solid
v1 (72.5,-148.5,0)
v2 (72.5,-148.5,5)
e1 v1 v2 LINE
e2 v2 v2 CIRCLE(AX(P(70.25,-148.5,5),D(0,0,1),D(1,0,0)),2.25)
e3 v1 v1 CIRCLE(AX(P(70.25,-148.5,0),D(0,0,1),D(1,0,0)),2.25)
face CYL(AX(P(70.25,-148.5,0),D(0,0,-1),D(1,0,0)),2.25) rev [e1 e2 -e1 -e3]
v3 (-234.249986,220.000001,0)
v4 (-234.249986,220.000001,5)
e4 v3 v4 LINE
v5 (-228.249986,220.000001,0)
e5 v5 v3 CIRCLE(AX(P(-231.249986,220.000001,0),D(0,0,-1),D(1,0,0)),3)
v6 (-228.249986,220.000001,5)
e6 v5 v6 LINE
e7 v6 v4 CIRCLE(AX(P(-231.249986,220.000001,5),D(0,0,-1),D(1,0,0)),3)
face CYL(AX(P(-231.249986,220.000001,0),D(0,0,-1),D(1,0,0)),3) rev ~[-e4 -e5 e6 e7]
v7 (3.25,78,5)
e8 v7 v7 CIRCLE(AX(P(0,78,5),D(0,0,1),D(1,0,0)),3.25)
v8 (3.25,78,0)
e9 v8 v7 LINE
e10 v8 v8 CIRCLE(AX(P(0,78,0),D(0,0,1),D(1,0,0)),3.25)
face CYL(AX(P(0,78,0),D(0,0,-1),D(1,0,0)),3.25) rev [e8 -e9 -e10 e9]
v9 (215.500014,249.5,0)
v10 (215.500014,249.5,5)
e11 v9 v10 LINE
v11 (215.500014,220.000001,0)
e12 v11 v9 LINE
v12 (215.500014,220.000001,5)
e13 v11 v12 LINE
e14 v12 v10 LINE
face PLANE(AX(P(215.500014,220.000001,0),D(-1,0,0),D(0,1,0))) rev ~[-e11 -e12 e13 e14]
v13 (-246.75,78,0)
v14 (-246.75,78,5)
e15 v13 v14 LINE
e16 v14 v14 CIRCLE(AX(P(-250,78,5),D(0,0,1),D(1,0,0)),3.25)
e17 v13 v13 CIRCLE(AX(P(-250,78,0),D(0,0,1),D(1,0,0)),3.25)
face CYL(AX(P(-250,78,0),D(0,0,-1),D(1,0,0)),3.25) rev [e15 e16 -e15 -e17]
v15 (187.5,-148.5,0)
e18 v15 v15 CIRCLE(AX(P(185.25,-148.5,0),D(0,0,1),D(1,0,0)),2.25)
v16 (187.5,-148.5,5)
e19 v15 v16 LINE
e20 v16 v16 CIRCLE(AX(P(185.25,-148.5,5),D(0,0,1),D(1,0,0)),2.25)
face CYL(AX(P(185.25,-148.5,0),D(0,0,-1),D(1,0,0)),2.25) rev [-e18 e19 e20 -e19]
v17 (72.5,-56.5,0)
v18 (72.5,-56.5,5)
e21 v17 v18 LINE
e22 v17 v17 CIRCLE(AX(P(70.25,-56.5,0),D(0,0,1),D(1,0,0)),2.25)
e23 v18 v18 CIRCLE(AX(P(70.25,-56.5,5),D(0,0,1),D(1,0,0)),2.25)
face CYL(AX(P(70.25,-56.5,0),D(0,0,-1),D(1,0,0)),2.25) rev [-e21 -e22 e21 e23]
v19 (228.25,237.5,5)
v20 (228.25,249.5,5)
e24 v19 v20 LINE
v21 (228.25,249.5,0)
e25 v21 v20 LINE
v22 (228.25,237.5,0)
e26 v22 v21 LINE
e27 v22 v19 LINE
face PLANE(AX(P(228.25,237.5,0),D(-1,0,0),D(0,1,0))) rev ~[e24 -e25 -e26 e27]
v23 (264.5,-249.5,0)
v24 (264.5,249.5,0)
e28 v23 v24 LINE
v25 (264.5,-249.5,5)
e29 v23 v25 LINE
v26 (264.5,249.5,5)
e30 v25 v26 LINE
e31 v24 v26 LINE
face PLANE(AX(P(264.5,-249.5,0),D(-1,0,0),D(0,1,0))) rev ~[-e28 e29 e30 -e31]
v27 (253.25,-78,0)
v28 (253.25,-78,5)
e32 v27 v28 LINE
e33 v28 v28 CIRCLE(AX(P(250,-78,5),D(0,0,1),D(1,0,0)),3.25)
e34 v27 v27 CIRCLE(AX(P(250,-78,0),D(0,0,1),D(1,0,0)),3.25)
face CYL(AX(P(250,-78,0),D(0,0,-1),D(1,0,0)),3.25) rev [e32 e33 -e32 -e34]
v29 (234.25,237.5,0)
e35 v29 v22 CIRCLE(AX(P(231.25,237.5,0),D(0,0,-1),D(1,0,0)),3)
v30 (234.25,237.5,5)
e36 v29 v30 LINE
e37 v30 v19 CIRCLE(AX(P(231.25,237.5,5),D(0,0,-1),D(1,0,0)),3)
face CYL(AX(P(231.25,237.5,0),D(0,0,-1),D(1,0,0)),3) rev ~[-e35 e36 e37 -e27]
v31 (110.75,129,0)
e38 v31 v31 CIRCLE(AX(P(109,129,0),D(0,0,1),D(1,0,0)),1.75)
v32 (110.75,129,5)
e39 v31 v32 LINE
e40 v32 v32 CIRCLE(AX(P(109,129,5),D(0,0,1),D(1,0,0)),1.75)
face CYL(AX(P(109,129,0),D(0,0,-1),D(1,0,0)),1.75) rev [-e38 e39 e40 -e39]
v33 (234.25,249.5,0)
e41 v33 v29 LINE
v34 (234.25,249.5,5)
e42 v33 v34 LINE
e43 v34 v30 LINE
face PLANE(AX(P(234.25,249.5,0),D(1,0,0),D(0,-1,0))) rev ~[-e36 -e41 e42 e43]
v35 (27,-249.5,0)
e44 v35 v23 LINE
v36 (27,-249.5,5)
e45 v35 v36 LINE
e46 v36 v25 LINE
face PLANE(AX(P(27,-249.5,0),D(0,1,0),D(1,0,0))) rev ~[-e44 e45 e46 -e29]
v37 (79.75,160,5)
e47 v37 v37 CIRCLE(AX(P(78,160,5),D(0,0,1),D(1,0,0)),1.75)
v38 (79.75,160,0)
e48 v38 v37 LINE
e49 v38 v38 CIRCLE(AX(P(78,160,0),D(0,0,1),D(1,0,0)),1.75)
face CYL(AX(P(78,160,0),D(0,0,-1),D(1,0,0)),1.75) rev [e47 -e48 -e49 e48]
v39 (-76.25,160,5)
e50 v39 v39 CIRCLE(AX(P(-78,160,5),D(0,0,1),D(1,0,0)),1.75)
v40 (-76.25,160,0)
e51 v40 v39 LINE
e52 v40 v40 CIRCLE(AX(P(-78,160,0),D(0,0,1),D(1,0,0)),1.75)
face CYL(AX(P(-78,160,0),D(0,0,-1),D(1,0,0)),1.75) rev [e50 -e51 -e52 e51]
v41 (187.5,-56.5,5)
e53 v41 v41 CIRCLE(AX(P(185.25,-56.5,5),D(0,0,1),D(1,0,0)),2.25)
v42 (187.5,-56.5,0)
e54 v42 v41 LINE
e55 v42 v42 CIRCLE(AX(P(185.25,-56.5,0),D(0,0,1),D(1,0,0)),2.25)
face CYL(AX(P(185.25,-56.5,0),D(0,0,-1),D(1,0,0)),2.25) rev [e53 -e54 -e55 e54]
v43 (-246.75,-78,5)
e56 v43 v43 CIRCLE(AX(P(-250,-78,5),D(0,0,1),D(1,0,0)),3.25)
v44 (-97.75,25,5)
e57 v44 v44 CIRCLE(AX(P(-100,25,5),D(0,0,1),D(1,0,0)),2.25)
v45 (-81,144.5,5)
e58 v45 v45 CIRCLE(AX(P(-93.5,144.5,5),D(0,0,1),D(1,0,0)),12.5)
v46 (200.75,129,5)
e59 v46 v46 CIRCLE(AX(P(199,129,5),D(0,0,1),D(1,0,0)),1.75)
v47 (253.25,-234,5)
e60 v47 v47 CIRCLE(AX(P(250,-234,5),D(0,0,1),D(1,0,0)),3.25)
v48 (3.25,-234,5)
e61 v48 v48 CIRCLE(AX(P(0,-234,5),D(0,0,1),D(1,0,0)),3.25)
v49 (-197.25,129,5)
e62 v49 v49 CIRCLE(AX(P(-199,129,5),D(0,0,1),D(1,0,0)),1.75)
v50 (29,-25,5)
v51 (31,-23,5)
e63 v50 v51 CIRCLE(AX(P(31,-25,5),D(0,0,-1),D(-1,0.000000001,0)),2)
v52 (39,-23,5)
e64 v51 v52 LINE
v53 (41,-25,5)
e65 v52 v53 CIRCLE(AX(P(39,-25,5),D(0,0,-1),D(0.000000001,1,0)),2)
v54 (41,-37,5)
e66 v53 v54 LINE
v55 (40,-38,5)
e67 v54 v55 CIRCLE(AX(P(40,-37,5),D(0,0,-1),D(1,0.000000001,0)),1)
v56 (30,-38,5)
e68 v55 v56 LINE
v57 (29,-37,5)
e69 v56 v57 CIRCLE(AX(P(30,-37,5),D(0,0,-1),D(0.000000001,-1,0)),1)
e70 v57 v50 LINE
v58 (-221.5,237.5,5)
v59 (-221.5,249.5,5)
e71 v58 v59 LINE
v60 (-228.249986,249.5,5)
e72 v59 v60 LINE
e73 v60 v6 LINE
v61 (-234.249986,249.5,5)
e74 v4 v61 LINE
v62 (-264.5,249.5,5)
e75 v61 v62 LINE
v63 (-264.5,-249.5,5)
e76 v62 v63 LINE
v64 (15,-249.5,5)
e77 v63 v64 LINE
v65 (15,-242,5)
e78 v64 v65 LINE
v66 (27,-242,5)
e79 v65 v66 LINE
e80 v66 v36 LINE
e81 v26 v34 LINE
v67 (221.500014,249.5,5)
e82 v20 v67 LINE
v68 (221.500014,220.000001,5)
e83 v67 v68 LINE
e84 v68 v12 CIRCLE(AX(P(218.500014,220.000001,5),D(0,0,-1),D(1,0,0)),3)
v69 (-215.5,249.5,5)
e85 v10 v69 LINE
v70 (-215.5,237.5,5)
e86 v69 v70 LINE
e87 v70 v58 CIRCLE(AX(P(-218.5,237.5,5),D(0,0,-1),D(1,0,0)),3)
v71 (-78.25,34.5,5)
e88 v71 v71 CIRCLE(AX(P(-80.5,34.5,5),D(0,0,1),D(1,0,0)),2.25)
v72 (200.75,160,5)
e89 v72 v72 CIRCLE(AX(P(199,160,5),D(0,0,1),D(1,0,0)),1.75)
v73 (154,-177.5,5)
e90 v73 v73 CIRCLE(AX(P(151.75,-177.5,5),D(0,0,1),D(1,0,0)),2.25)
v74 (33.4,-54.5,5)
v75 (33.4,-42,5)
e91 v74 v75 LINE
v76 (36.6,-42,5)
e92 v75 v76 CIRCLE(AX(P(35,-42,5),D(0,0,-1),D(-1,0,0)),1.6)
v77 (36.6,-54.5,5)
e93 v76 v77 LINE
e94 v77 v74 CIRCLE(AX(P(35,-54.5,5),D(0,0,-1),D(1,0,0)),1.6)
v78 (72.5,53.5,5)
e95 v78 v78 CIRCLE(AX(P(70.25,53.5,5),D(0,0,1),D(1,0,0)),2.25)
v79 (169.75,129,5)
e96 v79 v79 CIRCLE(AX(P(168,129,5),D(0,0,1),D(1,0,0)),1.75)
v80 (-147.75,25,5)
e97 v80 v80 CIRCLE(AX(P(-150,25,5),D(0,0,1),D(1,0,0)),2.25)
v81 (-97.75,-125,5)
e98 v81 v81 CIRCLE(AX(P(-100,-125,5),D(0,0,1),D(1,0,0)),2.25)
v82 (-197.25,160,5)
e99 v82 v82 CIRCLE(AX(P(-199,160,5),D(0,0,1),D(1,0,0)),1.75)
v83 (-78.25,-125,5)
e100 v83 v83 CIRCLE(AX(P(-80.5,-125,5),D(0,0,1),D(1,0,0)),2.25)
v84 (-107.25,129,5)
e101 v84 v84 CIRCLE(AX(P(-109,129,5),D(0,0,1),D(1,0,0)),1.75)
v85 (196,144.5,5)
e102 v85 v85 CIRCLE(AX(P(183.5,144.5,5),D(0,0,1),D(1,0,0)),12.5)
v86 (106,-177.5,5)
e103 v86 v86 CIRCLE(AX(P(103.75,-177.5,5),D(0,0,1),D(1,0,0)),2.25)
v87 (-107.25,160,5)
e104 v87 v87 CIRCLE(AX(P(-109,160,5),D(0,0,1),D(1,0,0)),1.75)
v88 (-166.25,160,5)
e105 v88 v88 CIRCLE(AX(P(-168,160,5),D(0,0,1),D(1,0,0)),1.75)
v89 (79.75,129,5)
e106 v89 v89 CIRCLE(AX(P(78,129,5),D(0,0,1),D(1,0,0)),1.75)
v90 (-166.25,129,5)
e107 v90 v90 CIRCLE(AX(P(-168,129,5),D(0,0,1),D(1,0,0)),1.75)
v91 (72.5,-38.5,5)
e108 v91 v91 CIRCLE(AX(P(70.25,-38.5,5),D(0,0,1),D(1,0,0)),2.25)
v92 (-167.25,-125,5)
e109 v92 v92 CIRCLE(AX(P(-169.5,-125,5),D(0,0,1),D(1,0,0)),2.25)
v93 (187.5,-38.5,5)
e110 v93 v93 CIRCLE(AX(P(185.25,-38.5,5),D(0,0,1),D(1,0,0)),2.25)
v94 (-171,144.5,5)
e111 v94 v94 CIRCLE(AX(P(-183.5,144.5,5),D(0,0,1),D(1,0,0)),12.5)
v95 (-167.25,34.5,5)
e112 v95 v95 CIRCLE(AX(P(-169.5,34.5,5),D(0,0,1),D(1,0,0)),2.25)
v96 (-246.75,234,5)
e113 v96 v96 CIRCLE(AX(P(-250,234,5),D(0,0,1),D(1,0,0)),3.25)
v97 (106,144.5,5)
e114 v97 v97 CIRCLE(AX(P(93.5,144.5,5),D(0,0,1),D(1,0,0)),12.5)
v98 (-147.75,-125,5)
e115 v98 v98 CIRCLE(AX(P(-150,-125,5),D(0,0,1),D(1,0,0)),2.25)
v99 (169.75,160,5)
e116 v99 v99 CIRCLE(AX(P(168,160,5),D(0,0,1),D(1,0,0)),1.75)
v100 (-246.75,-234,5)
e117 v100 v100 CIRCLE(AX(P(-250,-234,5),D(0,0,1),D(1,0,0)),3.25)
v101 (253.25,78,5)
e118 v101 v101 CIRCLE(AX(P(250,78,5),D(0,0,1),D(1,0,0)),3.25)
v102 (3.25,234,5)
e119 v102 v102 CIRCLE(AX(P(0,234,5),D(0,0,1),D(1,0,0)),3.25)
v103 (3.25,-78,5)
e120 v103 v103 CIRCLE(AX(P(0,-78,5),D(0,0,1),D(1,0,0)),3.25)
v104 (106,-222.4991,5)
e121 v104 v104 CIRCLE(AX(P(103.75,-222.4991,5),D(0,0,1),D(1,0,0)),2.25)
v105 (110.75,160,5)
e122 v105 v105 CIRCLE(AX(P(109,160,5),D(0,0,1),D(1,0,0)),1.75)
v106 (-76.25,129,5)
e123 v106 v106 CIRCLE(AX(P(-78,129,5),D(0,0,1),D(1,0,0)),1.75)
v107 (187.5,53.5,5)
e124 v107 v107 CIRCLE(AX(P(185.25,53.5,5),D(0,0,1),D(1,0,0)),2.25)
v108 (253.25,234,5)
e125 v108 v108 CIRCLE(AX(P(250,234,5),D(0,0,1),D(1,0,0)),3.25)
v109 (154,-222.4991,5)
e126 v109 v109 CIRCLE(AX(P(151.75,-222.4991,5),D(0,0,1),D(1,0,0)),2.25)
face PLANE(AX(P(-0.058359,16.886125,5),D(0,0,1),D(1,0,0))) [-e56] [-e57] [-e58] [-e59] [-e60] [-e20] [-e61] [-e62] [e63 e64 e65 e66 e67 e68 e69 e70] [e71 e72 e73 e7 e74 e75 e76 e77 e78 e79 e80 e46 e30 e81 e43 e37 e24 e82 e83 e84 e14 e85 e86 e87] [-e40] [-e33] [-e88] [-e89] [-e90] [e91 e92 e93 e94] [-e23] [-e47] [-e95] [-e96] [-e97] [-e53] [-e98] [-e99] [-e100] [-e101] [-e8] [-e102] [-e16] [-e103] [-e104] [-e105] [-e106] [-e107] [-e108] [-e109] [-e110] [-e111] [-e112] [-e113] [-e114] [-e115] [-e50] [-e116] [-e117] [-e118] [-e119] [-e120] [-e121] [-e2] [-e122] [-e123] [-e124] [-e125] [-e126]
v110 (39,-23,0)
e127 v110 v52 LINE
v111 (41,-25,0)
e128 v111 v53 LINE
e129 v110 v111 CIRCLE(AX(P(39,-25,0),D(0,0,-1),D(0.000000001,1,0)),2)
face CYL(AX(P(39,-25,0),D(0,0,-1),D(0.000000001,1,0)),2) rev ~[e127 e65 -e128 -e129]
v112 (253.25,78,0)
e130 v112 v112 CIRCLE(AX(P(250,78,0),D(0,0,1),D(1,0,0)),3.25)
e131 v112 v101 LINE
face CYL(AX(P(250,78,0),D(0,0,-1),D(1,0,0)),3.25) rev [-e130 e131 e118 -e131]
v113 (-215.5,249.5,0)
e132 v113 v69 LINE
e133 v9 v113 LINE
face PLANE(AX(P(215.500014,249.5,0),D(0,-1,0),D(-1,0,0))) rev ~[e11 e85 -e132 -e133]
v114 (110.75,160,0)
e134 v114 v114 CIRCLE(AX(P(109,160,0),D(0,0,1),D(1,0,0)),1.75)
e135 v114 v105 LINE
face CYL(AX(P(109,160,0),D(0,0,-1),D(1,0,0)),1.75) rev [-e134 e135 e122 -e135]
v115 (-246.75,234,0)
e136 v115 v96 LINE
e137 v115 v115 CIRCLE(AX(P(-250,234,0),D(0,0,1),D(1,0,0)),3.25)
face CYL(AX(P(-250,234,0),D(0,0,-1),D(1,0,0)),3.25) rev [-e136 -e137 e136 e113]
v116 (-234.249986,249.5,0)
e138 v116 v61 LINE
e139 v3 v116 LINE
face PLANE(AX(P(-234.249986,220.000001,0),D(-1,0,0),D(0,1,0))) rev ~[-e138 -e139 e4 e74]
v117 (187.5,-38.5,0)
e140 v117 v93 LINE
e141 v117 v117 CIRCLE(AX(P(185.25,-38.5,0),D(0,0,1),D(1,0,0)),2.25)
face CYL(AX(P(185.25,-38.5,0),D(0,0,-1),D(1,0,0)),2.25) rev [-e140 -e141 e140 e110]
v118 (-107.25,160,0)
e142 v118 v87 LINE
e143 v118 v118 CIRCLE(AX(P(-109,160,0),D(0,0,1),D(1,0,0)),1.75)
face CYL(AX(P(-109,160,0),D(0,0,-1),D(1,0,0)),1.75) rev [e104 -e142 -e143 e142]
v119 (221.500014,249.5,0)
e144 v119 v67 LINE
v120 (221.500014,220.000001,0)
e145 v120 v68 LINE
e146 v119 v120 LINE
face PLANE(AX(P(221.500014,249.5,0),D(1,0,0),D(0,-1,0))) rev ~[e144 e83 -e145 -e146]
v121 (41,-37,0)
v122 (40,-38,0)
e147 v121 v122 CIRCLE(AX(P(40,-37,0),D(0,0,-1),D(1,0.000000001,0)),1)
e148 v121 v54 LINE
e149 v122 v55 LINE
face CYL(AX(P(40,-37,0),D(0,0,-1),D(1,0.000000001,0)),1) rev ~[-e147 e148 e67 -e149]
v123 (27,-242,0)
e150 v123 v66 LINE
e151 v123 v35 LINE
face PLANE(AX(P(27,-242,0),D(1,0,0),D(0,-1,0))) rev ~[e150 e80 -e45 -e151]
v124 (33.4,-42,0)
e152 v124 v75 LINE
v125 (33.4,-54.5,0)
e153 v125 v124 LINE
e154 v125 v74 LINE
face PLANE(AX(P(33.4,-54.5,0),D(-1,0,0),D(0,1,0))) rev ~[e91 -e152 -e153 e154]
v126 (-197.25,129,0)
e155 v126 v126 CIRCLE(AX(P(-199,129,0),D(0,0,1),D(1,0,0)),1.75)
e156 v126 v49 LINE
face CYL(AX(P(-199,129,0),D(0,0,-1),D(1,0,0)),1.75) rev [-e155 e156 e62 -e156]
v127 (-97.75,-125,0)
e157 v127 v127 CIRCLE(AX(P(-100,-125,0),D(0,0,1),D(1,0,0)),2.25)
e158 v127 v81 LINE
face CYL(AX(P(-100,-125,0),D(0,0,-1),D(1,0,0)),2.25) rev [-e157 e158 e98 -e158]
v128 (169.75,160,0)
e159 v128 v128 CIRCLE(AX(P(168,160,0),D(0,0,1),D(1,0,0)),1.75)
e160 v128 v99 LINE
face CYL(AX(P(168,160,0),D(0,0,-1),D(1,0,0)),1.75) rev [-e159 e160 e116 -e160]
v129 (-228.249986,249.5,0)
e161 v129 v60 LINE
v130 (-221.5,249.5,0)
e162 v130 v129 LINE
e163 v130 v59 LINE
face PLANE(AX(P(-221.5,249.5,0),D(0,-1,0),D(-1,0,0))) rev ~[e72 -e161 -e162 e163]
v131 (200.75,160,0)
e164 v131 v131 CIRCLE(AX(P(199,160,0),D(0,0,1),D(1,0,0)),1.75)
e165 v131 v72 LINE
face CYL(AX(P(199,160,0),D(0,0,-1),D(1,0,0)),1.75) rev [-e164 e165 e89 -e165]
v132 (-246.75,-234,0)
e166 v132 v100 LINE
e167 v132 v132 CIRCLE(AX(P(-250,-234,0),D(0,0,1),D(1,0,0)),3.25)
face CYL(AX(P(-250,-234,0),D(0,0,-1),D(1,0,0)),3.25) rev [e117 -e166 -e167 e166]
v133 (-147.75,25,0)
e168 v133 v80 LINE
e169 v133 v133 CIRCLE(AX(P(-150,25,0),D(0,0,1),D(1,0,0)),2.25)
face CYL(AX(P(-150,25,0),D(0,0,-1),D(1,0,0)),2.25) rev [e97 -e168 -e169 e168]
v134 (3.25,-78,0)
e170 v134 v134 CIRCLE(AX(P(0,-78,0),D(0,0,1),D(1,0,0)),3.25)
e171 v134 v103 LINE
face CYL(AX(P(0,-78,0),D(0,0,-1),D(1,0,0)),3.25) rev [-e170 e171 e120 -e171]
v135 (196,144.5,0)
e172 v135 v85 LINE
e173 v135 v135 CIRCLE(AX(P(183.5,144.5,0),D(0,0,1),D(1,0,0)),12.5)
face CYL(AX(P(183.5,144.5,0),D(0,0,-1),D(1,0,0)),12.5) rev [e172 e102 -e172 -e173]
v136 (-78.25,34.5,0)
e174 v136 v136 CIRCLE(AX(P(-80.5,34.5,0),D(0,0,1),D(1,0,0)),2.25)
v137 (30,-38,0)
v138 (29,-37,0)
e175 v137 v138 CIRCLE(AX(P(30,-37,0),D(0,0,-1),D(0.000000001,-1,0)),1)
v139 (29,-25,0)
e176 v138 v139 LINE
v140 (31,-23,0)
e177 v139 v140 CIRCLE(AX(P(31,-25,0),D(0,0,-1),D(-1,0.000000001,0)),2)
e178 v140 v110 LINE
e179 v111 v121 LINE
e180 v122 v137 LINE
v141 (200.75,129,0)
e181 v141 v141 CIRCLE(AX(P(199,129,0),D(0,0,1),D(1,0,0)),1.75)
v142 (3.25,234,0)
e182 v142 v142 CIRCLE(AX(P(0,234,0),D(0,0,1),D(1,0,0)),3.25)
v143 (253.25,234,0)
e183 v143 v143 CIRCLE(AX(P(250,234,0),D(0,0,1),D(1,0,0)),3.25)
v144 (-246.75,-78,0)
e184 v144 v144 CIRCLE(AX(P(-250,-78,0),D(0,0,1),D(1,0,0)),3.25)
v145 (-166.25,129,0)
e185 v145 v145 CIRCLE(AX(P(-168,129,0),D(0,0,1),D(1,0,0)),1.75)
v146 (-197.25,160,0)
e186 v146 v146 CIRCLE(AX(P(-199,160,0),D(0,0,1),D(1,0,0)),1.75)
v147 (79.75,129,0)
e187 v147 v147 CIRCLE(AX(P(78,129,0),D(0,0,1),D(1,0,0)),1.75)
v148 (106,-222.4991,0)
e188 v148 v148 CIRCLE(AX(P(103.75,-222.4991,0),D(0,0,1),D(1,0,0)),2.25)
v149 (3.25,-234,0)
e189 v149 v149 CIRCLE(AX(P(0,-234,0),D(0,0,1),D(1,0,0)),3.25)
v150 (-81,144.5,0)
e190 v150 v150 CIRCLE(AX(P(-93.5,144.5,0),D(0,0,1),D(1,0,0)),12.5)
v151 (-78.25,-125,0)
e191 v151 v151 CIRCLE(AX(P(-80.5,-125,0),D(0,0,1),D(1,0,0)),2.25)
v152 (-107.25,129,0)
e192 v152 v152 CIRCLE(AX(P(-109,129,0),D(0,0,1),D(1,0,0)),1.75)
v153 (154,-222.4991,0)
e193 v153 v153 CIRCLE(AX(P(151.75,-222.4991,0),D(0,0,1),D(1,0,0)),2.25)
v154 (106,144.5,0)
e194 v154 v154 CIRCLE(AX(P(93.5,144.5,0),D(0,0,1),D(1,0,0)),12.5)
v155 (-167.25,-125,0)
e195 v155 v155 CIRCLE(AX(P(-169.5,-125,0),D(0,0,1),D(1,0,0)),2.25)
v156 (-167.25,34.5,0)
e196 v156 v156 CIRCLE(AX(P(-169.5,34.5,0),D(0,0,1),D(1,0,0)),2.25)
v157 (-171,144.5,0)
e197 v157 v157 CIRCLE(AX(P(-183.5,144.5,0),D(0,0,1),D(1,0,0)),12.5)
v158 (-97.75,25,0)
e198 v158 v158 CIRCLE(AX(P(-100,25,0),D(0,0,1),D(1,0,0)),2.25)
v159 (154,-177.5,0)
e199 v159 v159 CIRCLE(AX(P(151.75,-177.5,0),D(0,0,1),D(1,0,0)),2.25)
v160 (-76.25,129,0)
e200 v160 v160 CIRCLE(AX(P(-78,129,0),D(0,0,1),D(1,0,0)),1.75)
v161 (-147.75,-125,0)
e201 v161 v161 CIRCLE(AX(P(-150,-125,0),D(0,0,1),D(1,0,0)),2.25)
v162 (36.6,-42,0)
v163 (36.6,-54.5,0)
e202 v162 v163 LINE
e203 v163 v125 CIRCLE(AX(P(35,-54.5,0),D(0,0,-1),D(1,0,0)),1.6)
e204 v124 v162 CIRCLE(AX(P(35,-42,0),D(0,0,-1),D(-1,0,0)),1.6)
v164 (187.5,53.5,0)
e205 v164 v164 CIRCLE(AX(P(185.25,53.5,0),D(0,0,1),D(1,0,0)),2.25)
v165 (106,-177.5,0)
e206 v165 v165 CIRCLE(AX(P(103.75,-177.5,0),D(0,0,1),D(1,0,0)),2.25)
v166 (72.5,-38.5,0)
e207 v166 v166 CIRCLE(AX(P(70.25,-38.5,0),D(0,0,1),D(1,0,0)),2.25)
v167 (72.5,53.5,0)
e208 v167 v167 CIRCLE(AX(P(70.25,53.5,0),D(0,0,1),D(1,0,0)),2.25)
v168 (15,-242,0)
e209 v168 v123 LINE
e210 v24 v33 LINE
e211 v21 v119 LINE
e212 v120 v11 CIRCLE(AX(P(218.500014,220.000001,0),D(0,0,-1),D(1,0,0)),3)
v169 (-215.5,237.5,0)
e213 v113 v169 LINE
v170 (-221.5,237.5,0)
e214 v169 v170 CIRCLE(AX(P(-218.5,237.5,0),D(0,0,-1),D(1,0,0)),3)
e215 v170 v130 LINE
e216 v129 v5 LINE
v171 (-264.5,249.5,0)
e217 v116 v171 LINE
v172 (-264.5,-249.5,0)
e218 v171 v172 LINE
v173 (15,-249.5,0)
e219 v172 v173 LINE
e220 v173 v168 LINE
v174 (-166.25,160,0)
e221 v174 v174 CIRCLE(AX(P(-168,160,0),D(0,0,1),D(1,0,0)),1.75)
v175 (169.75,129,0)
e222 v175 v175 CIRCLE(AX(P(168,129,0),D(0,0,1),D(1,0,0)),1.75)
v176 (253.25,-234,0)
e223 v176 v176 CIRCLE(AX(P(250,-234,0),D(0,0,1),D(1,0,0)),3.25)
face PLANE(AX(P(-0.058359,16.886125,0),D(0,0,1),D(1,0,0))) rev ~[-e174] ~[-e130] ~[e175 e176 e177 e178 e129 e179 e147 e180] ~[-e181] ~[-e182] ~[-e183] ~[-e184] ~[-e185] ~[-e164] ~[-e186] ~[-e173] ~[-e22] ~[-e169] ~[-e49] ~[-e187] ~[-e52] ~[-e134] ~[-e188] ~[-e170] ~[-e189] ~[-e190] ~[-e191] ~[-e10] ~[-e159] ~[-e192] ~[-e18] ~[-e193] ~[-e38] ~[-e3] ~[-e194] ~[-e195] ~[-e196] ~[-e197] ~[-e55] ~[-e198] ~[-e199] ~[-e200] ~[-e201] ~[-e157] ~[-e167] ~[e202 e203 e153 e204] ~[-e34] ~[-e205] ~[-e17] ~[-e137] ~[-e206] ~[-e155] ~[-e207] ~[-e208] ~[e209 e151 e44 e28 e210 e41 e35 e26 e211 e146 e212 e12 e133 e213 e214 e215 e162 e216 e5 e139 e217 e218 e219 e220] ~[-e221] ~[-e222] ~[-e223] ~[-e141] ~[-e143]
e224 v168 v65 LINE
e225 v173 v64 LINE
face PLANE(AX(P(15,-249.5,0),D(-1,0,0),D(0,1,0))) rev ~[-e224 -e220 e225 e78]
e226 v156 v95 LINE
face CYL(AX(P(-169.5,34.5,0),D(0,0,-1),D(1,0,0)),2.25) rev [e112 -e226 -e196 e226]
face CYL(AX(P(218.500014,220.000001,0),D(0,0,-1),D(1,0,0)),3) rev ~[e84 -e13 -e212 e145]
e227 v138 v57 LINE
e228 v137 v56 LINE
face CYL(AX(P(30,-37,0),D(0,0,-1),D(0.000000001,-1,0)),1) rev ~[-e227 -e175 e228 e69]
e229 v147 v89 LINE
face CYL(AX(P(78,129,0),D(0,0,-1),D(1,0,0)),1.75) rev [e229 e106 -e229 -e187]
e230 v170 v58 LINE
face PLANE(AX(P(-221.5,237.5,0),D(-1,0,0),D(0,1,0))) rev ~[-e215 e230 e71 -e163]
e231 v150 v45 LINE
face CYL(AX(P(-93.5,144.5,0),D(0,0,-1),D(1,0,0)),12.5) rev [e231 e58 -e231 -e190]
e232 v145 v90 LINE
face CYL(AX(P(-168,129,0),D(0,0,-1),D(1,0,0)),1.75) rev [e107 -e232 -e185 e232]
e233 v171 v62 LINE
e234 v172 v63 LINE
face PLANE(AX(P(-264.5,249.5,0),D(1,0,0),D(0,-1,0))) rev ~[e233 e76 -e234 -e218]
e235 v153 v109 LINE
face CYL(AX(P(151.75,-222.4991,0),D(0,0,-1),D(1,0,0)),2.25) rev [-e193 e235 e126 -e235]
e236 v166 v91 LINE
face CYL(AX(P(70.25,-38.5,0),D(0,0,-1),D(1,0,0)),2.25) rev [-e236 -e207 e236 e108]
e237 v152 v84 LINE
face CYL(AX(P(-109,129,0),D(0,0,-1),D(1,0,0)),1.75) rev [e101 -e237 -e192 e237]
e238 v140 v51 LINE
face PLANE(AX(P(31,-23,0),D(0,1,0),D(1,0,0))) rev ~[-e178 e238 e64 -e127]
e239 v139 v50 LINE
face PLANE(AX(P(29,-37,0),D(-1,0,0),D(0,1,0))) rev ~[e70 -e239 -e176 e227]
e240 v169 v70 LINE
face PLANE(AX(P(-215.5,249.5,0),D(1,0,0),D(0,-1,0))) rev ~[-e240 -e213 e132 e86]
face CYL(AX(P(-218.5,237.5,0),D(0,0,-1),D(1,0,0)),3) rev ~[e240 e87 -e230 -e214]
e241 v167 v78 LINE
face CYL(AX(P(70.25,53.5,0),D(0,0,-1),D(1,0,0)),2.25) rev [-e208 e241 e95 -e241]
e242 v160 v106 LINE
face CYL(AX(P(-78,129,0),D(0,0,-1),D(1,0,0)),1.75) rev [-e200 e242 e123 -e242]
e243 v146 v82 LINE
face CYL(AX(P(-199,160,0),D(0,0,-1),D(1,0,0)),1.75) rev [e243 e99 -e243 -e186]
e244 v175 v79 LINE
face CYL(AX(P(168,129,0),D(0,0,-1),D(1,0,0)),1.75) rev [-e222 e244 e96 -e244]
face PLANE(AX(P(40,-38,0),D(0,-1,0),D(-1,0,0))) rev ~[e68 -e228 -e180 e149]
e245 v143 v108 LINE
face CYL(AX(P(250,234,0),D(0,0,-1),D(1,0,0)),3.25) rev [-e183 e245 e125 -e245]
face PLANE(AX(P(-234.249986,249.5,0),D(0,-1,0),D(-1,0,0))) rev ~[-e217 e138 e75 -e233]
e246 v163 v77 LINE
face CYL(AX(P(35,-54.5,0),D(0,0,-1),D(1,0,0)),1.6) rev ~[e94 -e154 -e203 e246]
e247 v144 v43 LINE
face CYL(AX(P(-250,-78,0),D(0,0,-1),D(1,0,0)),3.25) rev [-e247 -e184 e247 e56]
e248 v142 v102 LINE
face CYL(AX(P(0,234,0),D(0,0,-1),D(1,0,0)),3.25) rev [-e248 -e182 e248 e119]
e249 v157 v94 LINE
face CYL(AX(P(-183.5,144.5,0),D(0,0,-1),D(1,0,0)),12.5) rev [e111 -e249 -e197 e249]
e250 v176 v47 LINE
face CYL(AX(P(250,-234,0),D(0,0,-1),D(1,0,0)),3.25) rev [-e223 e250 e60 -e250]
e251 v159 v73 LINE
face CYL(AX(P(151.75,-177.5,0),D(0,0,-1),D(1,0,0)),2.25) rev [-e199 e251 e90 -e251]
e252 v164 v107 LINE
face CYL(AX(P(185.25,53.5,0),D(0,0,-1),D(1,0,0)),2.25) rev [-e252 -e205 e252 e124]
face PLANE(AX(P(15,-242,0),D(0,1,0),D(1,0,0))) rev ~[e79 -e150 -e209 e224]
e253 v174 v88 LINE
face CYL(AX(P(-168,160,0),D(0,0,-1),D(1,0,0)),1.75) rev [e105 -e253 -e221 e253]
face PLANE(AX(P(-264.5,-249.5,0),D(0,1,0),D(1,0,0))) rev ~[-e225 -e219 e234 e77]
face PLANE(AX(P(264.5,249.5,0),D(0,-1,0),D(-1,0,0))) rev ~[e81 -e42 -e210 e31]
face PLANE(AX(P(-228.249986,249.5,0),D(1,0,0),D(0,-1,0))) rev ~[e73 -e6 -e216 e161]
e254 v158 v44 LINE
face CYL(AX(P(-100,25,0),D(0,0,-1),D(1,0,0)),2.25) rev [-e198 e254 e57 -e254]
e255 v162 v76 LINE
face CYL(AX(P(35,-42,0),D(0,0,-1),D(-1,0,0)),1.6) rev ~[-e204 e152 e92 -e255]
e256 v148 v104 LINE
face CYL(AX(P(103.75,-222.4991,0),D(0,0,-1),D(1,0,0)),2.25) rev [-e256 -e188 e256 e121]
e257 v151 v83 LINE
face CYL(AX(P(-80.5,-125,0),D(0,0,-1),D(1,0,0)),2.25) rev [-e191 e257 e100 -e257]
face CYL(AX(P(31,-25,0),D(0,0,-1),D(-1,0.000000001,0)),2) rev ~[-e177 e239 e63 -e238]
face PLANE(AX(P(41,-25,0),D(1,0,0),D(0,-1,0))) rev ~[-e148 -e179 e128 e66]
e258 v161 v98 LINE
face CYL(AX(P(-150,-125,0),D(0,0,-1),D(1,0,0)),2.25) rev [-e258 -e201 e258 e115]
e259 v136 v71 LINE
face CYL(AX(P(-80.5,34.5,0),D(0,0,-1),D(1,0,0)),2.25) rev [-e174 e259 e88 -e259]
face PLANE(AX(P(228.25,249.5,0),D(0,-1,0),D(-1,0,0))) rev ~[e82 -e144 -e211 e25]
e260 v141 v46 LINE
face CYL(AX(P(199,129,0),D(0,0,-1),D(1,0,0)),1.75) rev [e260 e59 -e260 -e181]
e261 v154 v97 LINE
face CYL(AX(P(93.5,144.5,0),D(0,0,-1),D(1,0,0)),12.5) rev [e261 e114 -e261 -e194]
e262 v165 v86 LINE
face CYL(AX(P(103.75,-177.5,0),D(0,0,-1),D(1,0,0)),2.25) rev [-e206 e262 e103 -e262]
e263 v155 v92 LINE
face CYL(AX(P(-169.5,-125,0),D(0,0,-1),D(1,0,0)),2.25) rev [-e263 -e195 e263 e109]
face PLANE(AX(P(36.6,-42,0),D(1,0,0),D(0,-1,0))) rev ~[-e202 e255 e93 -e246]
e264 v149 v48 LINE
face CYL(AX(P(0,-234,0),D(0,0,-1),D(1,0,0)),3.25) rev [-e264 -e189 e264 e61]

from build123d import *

# Parameters (mm, degrees)
MODEL_R             = 3.25
MODEL_R_2           = 2.25
MODEL_R_3           = 1.75
MODEL_R_4           = 12.5
BOSS_EXTRUDE1_DEPTH = 5


with BuildPart() as part:
    # Model → Boss-Extrude1 (new body)
    with BuildSketch(Plane.XY):
        with BuildLine():
            Line((-234.249986481, 220.000001375), (-234.249986481, 249.5))
            Line((-234.249986481, 249.5), (-264.5, 249.5))
            Line((-264.5, 249.5), (-264.5, -249.499999996))
            Line((-264.5, -249.499999996), (15, -249.499999996))
            Line((15, -249.499999996), (15, -241.999999996))
            Line((15, -241.999999996), (27, -241.999999996))
            Line((27, -241.999999996), (27, -249.499999996))
            Line((27, -249.499999996), (264.5, -249.499999996))
            Line((264.5, -249.499999996), (264.5, 249.5))
            Line((264.5, 249.5), (234.25, 249.5))
            Line((234.25, 249.5), (234.25, 237.5))
            ThreePointArc((234.25, 237.5), (231.25, 234.5), (228.25, 237.5))
            Line((228.25, 237.5), (228.25, 249.5))
            Line((228.25, 249.5), (221.500013519, 249.5))
            Line((221.500013519, 249.5), (221.500013519, 220.000001375))
            ThreePointArc((221.500013519, 220.000001375), (218.500013519, 217.000001375), (215.500013519, 220.000001375))
            Line((215.500013519, 220.000001375), (215.500013519, 249.5))
            Line((215.500013519, 249.5), (-215.5, 249.5))
            Line((-215.5, 249.5), (-215.5, 237.5))
            ThreePointArc((-215.5, 237.5), (-218.5, 234.5), (-221.5, 237.5))
            Line((-221.5, 237.5), (-221.5, 249.5))
            Line((-221.5, 249.5), (-228.249986481, 249.5))
            Line((-228.249986481, 249.5), (-228.249986481, 220.000001375))
            ThreePointArc((-228.249986481, 220.000001375), (-231.249986481, 217.000001375), (-234.249986481, 220.000001375))
        make_face()
        with Locations((0, 234)):
            Circle(MODEL_R, mode=Mode.SUBTRACT)
        with Locations((250, 78)):
            Circle(MODEL_R, mode=Mode.SUBTRACT)
        with Locations((250, -233.999999996)):
            Circle(MODEL_R, mode=Mode.SUBTRACT)
        with Locations((250, -77.999999996)):
            Circle(MODEL_R, mode=Mode.SUBTRACT)
        with Locations((151.75, -177.499999995)):
            Circle(MODEL_R_2, mode=Mode.SUBTRACT)
        with Locations((0, -233.999999996)):
            Circle(MODEL_R, mode=Mode.SUBTRACT)
        with Locations((0, -77.999999996)):
            Circle(MODEL_R, mode=Mode.SUBTRACT)
        with Locations((0, 78)):
            Circle(MODEL_R, mode=Mode.SUBTRACT)
        with Locations((70.25, -38.5)):
            Circle(MODEL_R_2, mode=Mode.SUBTRACT)
        with Locations((185.25, -56.5)):
            Circle(MODEL_R_2, mode=Mode.SUBTRACT)
        with Locations((185.25, -148.5)):
            Circle(MODEL_R_2, mode=Mode.SUBTRACT)
        with Locations((70.25, -148.5)):
            Circle(MODEL_R_2, mode=Mode.SUBTRACT)
        with Locations((70.25, -56.5)):
            Circle(MODEL_R_2, mode=Mode.SUBTRACT)
        with Locations((70.25, 53.5)):
            Circle(MODEL_R_2, mode=Mode.SUBTRACT)
        with Locations((185.25, 53.5)):
            Circle(MODEL_R_2, mode=Mode.SUBTRACT)
        with Locations((185.25, -38.5)):
            Circle(MODEL_R_2, mode=Mode.SUBTRACT)
        with Locations((199, 160)):
            Circle(MODEL_R_3, mode=Mode.SUBTRACT)
        with Locations((199, 129)):
            Circle(MODEL_R_3, mode=Mode.SUBTRACT)
        with Locations((168, 129)):
            Circle(MODEL_R_3, mode=Mode.SUBTRACT)
        with Locations((168, 160)):
            Circle(MODEL_R_3, mode=Mode.SUBTRACT)
        with Locations((109, 160)):
            Circle(MODEL_R_3, mode=Mode.SUBTRACT)
        with Locations((78, 129)):
            Circle(MODEL_R_3, mode=Mode.SUBTRACT)
        with Locations((78, 160)):
            Circle(MODEL_R_3, mode=Mode.SUBTRACT)
        with Locations((109, 129)):
            Circle(MODEL_R_3, mode=Mode.SUBTRACT)
        with Locations((-109, 129)):
            Circle(MODEL_R_3, mode=Mode.SUBTRACT)
        with Locations((-109, 160)):
            Circle(MODEL_R_3, mode=Mode.SUBTRACT)
        with Locations((-78, 129)):
            Circle(MODEL_R_3, mode=Mode.SUBTRACT)
        with Locations((-78, 160)):
            Circle(MODEL_R_3, mode=Mode.SUBTRACT)
        with Locations((-199, 129)):
            Circle(MODEL_R_3, mode=Mode.SUBTRACT)
        with Locations((-168, 129)):
            Circle(MODEL_R_3, mode=Mode.SUBTRACT)
        with Locations((-168, 160)):
            Circle(MODEL_R_3, mode=Mode.SUBTRACT)
        with Locations((-199, 160)):
            Circle(MODEL_R_3, mode=Mode.SUBTRACT)
        with Locations((-250, 78)):
            Circle(MODEL_R, mode=Mode.SUBTRACT)
        with Locations((-250, -77.999999996)):
            Circle(MODEL_R, mode=Mode.SUBTRACT)
        with Locations((-250, -233.999999996)):
            Circle(MODEL_R, mode=Mode.SUBTRACT)
        with Locations((-250, 234)):
            Circle(MODEL_R, mode=Mode.SUBTRACT)
        with Locations((-100, -125)):
            Circle(MODEL_R_2, mode=Mode.SUBTRACT)
        with Locations((-100, 25)):
            Circle(MODEL_R_2, mode=Mode.SUBTRACT)
        with Locations((-150, 25)):
            Circle(MODEL_R_2, mode=Mode.SUBTRACT)
        with Locations((250, 234)):
            Circle(MODEL_R, mode=Mode.SUBTRACT)
        with Locations((-150, -125)):
            Circle(MODEL_R_2, mode=Mode.SUBTRACT)
        with Locations((103.75, -177.499999995)):
            Circle(MODEL_R_2, mode=Mode.SUBTRACT)
        with Locations((-183.5, 144.5)):
            Circle(MODEL_R_4, mode=Mode.SUBTRACT)
        with Locations((-93.5, 144.5)):
            Circle(MODEL_R_4, mode=Mode.SUBTRACT)
        with Locations((93.5, 144.5)):
            Circle(MODEL_R_4, mode=Mode.SUBTRACT)
        with Locations((183.5, 144.5)):
            Circle(MODEL_R_4, mode=Mode.SUBTRACT)
        with Locations((-169.5, -125)):
            Circle(MODEL_R_2, mode=Mode.SUBTRACT)
        with Locations((-80.5, 34.5)):
            Circle(MODEL_R_2, mode=Mode.SUBTRACT)
        with Locations((-169.5, 34.5)):
            Circle(MODEL_R_2, mode=Mode.SUBTRACT)
        with Locations((-80.5, -125)):
            Circle(MODEL_R_2, mode=Mode.SUBTRACT)
        with Locations((151.75, -222.499099699)):
            Circle(MODEL_R_2, mode=Mode.SUBTRACT)
        with Locations((103.75, -222.499099699)):
            Circle(MODEL_R_2, mode=Mode.SUBTRACT)
        with BuildLine():
            Line((40, -37.999999995), (30, -37.999999995))
            ThreePointArc((30, -37.999999995), (29.292893219, -37.707106777), (29, -36.999999995))
            Line((29, -36.999999995), (29, -24.999999995))
            ThreePointArc((29, -24.999999995), (29.585786438, -23.585786433), (31, -22.999999995))
            Line((31, -22.999999995), (39, -22.999999995))
            ThreePointArc((39, -22.999999995), (40.414213562, -23.585786433), (41, -24.999999995))
            Line((41, -24.999999995), (41, -36.999999995))
            ThreePointArc((41, -36.999999995), (40.707106781, -37.707106777), (40, -37.999999995))
        make_face(mode=Mode.SUBTRACT)
        with BuildLine():
            Line((36.6, -41.999999995), (36.6, -54.499999995))
            ThreePointArc((36.6, -54.499999995), (35, -56.099999995), (33.4, -54.499999995))
            Line((33.4, -54.499999995), (33.4, -41.999999995))
            ThreePointArc((33.4, -41.999999995), (35, -40.399999995), (36.6, -41.999999995))
        make_face(mode=Mode.SUBTRACT)
    extrude(amount=BOSS_EXTRUDE1_DEPTH)


solid = part.part
